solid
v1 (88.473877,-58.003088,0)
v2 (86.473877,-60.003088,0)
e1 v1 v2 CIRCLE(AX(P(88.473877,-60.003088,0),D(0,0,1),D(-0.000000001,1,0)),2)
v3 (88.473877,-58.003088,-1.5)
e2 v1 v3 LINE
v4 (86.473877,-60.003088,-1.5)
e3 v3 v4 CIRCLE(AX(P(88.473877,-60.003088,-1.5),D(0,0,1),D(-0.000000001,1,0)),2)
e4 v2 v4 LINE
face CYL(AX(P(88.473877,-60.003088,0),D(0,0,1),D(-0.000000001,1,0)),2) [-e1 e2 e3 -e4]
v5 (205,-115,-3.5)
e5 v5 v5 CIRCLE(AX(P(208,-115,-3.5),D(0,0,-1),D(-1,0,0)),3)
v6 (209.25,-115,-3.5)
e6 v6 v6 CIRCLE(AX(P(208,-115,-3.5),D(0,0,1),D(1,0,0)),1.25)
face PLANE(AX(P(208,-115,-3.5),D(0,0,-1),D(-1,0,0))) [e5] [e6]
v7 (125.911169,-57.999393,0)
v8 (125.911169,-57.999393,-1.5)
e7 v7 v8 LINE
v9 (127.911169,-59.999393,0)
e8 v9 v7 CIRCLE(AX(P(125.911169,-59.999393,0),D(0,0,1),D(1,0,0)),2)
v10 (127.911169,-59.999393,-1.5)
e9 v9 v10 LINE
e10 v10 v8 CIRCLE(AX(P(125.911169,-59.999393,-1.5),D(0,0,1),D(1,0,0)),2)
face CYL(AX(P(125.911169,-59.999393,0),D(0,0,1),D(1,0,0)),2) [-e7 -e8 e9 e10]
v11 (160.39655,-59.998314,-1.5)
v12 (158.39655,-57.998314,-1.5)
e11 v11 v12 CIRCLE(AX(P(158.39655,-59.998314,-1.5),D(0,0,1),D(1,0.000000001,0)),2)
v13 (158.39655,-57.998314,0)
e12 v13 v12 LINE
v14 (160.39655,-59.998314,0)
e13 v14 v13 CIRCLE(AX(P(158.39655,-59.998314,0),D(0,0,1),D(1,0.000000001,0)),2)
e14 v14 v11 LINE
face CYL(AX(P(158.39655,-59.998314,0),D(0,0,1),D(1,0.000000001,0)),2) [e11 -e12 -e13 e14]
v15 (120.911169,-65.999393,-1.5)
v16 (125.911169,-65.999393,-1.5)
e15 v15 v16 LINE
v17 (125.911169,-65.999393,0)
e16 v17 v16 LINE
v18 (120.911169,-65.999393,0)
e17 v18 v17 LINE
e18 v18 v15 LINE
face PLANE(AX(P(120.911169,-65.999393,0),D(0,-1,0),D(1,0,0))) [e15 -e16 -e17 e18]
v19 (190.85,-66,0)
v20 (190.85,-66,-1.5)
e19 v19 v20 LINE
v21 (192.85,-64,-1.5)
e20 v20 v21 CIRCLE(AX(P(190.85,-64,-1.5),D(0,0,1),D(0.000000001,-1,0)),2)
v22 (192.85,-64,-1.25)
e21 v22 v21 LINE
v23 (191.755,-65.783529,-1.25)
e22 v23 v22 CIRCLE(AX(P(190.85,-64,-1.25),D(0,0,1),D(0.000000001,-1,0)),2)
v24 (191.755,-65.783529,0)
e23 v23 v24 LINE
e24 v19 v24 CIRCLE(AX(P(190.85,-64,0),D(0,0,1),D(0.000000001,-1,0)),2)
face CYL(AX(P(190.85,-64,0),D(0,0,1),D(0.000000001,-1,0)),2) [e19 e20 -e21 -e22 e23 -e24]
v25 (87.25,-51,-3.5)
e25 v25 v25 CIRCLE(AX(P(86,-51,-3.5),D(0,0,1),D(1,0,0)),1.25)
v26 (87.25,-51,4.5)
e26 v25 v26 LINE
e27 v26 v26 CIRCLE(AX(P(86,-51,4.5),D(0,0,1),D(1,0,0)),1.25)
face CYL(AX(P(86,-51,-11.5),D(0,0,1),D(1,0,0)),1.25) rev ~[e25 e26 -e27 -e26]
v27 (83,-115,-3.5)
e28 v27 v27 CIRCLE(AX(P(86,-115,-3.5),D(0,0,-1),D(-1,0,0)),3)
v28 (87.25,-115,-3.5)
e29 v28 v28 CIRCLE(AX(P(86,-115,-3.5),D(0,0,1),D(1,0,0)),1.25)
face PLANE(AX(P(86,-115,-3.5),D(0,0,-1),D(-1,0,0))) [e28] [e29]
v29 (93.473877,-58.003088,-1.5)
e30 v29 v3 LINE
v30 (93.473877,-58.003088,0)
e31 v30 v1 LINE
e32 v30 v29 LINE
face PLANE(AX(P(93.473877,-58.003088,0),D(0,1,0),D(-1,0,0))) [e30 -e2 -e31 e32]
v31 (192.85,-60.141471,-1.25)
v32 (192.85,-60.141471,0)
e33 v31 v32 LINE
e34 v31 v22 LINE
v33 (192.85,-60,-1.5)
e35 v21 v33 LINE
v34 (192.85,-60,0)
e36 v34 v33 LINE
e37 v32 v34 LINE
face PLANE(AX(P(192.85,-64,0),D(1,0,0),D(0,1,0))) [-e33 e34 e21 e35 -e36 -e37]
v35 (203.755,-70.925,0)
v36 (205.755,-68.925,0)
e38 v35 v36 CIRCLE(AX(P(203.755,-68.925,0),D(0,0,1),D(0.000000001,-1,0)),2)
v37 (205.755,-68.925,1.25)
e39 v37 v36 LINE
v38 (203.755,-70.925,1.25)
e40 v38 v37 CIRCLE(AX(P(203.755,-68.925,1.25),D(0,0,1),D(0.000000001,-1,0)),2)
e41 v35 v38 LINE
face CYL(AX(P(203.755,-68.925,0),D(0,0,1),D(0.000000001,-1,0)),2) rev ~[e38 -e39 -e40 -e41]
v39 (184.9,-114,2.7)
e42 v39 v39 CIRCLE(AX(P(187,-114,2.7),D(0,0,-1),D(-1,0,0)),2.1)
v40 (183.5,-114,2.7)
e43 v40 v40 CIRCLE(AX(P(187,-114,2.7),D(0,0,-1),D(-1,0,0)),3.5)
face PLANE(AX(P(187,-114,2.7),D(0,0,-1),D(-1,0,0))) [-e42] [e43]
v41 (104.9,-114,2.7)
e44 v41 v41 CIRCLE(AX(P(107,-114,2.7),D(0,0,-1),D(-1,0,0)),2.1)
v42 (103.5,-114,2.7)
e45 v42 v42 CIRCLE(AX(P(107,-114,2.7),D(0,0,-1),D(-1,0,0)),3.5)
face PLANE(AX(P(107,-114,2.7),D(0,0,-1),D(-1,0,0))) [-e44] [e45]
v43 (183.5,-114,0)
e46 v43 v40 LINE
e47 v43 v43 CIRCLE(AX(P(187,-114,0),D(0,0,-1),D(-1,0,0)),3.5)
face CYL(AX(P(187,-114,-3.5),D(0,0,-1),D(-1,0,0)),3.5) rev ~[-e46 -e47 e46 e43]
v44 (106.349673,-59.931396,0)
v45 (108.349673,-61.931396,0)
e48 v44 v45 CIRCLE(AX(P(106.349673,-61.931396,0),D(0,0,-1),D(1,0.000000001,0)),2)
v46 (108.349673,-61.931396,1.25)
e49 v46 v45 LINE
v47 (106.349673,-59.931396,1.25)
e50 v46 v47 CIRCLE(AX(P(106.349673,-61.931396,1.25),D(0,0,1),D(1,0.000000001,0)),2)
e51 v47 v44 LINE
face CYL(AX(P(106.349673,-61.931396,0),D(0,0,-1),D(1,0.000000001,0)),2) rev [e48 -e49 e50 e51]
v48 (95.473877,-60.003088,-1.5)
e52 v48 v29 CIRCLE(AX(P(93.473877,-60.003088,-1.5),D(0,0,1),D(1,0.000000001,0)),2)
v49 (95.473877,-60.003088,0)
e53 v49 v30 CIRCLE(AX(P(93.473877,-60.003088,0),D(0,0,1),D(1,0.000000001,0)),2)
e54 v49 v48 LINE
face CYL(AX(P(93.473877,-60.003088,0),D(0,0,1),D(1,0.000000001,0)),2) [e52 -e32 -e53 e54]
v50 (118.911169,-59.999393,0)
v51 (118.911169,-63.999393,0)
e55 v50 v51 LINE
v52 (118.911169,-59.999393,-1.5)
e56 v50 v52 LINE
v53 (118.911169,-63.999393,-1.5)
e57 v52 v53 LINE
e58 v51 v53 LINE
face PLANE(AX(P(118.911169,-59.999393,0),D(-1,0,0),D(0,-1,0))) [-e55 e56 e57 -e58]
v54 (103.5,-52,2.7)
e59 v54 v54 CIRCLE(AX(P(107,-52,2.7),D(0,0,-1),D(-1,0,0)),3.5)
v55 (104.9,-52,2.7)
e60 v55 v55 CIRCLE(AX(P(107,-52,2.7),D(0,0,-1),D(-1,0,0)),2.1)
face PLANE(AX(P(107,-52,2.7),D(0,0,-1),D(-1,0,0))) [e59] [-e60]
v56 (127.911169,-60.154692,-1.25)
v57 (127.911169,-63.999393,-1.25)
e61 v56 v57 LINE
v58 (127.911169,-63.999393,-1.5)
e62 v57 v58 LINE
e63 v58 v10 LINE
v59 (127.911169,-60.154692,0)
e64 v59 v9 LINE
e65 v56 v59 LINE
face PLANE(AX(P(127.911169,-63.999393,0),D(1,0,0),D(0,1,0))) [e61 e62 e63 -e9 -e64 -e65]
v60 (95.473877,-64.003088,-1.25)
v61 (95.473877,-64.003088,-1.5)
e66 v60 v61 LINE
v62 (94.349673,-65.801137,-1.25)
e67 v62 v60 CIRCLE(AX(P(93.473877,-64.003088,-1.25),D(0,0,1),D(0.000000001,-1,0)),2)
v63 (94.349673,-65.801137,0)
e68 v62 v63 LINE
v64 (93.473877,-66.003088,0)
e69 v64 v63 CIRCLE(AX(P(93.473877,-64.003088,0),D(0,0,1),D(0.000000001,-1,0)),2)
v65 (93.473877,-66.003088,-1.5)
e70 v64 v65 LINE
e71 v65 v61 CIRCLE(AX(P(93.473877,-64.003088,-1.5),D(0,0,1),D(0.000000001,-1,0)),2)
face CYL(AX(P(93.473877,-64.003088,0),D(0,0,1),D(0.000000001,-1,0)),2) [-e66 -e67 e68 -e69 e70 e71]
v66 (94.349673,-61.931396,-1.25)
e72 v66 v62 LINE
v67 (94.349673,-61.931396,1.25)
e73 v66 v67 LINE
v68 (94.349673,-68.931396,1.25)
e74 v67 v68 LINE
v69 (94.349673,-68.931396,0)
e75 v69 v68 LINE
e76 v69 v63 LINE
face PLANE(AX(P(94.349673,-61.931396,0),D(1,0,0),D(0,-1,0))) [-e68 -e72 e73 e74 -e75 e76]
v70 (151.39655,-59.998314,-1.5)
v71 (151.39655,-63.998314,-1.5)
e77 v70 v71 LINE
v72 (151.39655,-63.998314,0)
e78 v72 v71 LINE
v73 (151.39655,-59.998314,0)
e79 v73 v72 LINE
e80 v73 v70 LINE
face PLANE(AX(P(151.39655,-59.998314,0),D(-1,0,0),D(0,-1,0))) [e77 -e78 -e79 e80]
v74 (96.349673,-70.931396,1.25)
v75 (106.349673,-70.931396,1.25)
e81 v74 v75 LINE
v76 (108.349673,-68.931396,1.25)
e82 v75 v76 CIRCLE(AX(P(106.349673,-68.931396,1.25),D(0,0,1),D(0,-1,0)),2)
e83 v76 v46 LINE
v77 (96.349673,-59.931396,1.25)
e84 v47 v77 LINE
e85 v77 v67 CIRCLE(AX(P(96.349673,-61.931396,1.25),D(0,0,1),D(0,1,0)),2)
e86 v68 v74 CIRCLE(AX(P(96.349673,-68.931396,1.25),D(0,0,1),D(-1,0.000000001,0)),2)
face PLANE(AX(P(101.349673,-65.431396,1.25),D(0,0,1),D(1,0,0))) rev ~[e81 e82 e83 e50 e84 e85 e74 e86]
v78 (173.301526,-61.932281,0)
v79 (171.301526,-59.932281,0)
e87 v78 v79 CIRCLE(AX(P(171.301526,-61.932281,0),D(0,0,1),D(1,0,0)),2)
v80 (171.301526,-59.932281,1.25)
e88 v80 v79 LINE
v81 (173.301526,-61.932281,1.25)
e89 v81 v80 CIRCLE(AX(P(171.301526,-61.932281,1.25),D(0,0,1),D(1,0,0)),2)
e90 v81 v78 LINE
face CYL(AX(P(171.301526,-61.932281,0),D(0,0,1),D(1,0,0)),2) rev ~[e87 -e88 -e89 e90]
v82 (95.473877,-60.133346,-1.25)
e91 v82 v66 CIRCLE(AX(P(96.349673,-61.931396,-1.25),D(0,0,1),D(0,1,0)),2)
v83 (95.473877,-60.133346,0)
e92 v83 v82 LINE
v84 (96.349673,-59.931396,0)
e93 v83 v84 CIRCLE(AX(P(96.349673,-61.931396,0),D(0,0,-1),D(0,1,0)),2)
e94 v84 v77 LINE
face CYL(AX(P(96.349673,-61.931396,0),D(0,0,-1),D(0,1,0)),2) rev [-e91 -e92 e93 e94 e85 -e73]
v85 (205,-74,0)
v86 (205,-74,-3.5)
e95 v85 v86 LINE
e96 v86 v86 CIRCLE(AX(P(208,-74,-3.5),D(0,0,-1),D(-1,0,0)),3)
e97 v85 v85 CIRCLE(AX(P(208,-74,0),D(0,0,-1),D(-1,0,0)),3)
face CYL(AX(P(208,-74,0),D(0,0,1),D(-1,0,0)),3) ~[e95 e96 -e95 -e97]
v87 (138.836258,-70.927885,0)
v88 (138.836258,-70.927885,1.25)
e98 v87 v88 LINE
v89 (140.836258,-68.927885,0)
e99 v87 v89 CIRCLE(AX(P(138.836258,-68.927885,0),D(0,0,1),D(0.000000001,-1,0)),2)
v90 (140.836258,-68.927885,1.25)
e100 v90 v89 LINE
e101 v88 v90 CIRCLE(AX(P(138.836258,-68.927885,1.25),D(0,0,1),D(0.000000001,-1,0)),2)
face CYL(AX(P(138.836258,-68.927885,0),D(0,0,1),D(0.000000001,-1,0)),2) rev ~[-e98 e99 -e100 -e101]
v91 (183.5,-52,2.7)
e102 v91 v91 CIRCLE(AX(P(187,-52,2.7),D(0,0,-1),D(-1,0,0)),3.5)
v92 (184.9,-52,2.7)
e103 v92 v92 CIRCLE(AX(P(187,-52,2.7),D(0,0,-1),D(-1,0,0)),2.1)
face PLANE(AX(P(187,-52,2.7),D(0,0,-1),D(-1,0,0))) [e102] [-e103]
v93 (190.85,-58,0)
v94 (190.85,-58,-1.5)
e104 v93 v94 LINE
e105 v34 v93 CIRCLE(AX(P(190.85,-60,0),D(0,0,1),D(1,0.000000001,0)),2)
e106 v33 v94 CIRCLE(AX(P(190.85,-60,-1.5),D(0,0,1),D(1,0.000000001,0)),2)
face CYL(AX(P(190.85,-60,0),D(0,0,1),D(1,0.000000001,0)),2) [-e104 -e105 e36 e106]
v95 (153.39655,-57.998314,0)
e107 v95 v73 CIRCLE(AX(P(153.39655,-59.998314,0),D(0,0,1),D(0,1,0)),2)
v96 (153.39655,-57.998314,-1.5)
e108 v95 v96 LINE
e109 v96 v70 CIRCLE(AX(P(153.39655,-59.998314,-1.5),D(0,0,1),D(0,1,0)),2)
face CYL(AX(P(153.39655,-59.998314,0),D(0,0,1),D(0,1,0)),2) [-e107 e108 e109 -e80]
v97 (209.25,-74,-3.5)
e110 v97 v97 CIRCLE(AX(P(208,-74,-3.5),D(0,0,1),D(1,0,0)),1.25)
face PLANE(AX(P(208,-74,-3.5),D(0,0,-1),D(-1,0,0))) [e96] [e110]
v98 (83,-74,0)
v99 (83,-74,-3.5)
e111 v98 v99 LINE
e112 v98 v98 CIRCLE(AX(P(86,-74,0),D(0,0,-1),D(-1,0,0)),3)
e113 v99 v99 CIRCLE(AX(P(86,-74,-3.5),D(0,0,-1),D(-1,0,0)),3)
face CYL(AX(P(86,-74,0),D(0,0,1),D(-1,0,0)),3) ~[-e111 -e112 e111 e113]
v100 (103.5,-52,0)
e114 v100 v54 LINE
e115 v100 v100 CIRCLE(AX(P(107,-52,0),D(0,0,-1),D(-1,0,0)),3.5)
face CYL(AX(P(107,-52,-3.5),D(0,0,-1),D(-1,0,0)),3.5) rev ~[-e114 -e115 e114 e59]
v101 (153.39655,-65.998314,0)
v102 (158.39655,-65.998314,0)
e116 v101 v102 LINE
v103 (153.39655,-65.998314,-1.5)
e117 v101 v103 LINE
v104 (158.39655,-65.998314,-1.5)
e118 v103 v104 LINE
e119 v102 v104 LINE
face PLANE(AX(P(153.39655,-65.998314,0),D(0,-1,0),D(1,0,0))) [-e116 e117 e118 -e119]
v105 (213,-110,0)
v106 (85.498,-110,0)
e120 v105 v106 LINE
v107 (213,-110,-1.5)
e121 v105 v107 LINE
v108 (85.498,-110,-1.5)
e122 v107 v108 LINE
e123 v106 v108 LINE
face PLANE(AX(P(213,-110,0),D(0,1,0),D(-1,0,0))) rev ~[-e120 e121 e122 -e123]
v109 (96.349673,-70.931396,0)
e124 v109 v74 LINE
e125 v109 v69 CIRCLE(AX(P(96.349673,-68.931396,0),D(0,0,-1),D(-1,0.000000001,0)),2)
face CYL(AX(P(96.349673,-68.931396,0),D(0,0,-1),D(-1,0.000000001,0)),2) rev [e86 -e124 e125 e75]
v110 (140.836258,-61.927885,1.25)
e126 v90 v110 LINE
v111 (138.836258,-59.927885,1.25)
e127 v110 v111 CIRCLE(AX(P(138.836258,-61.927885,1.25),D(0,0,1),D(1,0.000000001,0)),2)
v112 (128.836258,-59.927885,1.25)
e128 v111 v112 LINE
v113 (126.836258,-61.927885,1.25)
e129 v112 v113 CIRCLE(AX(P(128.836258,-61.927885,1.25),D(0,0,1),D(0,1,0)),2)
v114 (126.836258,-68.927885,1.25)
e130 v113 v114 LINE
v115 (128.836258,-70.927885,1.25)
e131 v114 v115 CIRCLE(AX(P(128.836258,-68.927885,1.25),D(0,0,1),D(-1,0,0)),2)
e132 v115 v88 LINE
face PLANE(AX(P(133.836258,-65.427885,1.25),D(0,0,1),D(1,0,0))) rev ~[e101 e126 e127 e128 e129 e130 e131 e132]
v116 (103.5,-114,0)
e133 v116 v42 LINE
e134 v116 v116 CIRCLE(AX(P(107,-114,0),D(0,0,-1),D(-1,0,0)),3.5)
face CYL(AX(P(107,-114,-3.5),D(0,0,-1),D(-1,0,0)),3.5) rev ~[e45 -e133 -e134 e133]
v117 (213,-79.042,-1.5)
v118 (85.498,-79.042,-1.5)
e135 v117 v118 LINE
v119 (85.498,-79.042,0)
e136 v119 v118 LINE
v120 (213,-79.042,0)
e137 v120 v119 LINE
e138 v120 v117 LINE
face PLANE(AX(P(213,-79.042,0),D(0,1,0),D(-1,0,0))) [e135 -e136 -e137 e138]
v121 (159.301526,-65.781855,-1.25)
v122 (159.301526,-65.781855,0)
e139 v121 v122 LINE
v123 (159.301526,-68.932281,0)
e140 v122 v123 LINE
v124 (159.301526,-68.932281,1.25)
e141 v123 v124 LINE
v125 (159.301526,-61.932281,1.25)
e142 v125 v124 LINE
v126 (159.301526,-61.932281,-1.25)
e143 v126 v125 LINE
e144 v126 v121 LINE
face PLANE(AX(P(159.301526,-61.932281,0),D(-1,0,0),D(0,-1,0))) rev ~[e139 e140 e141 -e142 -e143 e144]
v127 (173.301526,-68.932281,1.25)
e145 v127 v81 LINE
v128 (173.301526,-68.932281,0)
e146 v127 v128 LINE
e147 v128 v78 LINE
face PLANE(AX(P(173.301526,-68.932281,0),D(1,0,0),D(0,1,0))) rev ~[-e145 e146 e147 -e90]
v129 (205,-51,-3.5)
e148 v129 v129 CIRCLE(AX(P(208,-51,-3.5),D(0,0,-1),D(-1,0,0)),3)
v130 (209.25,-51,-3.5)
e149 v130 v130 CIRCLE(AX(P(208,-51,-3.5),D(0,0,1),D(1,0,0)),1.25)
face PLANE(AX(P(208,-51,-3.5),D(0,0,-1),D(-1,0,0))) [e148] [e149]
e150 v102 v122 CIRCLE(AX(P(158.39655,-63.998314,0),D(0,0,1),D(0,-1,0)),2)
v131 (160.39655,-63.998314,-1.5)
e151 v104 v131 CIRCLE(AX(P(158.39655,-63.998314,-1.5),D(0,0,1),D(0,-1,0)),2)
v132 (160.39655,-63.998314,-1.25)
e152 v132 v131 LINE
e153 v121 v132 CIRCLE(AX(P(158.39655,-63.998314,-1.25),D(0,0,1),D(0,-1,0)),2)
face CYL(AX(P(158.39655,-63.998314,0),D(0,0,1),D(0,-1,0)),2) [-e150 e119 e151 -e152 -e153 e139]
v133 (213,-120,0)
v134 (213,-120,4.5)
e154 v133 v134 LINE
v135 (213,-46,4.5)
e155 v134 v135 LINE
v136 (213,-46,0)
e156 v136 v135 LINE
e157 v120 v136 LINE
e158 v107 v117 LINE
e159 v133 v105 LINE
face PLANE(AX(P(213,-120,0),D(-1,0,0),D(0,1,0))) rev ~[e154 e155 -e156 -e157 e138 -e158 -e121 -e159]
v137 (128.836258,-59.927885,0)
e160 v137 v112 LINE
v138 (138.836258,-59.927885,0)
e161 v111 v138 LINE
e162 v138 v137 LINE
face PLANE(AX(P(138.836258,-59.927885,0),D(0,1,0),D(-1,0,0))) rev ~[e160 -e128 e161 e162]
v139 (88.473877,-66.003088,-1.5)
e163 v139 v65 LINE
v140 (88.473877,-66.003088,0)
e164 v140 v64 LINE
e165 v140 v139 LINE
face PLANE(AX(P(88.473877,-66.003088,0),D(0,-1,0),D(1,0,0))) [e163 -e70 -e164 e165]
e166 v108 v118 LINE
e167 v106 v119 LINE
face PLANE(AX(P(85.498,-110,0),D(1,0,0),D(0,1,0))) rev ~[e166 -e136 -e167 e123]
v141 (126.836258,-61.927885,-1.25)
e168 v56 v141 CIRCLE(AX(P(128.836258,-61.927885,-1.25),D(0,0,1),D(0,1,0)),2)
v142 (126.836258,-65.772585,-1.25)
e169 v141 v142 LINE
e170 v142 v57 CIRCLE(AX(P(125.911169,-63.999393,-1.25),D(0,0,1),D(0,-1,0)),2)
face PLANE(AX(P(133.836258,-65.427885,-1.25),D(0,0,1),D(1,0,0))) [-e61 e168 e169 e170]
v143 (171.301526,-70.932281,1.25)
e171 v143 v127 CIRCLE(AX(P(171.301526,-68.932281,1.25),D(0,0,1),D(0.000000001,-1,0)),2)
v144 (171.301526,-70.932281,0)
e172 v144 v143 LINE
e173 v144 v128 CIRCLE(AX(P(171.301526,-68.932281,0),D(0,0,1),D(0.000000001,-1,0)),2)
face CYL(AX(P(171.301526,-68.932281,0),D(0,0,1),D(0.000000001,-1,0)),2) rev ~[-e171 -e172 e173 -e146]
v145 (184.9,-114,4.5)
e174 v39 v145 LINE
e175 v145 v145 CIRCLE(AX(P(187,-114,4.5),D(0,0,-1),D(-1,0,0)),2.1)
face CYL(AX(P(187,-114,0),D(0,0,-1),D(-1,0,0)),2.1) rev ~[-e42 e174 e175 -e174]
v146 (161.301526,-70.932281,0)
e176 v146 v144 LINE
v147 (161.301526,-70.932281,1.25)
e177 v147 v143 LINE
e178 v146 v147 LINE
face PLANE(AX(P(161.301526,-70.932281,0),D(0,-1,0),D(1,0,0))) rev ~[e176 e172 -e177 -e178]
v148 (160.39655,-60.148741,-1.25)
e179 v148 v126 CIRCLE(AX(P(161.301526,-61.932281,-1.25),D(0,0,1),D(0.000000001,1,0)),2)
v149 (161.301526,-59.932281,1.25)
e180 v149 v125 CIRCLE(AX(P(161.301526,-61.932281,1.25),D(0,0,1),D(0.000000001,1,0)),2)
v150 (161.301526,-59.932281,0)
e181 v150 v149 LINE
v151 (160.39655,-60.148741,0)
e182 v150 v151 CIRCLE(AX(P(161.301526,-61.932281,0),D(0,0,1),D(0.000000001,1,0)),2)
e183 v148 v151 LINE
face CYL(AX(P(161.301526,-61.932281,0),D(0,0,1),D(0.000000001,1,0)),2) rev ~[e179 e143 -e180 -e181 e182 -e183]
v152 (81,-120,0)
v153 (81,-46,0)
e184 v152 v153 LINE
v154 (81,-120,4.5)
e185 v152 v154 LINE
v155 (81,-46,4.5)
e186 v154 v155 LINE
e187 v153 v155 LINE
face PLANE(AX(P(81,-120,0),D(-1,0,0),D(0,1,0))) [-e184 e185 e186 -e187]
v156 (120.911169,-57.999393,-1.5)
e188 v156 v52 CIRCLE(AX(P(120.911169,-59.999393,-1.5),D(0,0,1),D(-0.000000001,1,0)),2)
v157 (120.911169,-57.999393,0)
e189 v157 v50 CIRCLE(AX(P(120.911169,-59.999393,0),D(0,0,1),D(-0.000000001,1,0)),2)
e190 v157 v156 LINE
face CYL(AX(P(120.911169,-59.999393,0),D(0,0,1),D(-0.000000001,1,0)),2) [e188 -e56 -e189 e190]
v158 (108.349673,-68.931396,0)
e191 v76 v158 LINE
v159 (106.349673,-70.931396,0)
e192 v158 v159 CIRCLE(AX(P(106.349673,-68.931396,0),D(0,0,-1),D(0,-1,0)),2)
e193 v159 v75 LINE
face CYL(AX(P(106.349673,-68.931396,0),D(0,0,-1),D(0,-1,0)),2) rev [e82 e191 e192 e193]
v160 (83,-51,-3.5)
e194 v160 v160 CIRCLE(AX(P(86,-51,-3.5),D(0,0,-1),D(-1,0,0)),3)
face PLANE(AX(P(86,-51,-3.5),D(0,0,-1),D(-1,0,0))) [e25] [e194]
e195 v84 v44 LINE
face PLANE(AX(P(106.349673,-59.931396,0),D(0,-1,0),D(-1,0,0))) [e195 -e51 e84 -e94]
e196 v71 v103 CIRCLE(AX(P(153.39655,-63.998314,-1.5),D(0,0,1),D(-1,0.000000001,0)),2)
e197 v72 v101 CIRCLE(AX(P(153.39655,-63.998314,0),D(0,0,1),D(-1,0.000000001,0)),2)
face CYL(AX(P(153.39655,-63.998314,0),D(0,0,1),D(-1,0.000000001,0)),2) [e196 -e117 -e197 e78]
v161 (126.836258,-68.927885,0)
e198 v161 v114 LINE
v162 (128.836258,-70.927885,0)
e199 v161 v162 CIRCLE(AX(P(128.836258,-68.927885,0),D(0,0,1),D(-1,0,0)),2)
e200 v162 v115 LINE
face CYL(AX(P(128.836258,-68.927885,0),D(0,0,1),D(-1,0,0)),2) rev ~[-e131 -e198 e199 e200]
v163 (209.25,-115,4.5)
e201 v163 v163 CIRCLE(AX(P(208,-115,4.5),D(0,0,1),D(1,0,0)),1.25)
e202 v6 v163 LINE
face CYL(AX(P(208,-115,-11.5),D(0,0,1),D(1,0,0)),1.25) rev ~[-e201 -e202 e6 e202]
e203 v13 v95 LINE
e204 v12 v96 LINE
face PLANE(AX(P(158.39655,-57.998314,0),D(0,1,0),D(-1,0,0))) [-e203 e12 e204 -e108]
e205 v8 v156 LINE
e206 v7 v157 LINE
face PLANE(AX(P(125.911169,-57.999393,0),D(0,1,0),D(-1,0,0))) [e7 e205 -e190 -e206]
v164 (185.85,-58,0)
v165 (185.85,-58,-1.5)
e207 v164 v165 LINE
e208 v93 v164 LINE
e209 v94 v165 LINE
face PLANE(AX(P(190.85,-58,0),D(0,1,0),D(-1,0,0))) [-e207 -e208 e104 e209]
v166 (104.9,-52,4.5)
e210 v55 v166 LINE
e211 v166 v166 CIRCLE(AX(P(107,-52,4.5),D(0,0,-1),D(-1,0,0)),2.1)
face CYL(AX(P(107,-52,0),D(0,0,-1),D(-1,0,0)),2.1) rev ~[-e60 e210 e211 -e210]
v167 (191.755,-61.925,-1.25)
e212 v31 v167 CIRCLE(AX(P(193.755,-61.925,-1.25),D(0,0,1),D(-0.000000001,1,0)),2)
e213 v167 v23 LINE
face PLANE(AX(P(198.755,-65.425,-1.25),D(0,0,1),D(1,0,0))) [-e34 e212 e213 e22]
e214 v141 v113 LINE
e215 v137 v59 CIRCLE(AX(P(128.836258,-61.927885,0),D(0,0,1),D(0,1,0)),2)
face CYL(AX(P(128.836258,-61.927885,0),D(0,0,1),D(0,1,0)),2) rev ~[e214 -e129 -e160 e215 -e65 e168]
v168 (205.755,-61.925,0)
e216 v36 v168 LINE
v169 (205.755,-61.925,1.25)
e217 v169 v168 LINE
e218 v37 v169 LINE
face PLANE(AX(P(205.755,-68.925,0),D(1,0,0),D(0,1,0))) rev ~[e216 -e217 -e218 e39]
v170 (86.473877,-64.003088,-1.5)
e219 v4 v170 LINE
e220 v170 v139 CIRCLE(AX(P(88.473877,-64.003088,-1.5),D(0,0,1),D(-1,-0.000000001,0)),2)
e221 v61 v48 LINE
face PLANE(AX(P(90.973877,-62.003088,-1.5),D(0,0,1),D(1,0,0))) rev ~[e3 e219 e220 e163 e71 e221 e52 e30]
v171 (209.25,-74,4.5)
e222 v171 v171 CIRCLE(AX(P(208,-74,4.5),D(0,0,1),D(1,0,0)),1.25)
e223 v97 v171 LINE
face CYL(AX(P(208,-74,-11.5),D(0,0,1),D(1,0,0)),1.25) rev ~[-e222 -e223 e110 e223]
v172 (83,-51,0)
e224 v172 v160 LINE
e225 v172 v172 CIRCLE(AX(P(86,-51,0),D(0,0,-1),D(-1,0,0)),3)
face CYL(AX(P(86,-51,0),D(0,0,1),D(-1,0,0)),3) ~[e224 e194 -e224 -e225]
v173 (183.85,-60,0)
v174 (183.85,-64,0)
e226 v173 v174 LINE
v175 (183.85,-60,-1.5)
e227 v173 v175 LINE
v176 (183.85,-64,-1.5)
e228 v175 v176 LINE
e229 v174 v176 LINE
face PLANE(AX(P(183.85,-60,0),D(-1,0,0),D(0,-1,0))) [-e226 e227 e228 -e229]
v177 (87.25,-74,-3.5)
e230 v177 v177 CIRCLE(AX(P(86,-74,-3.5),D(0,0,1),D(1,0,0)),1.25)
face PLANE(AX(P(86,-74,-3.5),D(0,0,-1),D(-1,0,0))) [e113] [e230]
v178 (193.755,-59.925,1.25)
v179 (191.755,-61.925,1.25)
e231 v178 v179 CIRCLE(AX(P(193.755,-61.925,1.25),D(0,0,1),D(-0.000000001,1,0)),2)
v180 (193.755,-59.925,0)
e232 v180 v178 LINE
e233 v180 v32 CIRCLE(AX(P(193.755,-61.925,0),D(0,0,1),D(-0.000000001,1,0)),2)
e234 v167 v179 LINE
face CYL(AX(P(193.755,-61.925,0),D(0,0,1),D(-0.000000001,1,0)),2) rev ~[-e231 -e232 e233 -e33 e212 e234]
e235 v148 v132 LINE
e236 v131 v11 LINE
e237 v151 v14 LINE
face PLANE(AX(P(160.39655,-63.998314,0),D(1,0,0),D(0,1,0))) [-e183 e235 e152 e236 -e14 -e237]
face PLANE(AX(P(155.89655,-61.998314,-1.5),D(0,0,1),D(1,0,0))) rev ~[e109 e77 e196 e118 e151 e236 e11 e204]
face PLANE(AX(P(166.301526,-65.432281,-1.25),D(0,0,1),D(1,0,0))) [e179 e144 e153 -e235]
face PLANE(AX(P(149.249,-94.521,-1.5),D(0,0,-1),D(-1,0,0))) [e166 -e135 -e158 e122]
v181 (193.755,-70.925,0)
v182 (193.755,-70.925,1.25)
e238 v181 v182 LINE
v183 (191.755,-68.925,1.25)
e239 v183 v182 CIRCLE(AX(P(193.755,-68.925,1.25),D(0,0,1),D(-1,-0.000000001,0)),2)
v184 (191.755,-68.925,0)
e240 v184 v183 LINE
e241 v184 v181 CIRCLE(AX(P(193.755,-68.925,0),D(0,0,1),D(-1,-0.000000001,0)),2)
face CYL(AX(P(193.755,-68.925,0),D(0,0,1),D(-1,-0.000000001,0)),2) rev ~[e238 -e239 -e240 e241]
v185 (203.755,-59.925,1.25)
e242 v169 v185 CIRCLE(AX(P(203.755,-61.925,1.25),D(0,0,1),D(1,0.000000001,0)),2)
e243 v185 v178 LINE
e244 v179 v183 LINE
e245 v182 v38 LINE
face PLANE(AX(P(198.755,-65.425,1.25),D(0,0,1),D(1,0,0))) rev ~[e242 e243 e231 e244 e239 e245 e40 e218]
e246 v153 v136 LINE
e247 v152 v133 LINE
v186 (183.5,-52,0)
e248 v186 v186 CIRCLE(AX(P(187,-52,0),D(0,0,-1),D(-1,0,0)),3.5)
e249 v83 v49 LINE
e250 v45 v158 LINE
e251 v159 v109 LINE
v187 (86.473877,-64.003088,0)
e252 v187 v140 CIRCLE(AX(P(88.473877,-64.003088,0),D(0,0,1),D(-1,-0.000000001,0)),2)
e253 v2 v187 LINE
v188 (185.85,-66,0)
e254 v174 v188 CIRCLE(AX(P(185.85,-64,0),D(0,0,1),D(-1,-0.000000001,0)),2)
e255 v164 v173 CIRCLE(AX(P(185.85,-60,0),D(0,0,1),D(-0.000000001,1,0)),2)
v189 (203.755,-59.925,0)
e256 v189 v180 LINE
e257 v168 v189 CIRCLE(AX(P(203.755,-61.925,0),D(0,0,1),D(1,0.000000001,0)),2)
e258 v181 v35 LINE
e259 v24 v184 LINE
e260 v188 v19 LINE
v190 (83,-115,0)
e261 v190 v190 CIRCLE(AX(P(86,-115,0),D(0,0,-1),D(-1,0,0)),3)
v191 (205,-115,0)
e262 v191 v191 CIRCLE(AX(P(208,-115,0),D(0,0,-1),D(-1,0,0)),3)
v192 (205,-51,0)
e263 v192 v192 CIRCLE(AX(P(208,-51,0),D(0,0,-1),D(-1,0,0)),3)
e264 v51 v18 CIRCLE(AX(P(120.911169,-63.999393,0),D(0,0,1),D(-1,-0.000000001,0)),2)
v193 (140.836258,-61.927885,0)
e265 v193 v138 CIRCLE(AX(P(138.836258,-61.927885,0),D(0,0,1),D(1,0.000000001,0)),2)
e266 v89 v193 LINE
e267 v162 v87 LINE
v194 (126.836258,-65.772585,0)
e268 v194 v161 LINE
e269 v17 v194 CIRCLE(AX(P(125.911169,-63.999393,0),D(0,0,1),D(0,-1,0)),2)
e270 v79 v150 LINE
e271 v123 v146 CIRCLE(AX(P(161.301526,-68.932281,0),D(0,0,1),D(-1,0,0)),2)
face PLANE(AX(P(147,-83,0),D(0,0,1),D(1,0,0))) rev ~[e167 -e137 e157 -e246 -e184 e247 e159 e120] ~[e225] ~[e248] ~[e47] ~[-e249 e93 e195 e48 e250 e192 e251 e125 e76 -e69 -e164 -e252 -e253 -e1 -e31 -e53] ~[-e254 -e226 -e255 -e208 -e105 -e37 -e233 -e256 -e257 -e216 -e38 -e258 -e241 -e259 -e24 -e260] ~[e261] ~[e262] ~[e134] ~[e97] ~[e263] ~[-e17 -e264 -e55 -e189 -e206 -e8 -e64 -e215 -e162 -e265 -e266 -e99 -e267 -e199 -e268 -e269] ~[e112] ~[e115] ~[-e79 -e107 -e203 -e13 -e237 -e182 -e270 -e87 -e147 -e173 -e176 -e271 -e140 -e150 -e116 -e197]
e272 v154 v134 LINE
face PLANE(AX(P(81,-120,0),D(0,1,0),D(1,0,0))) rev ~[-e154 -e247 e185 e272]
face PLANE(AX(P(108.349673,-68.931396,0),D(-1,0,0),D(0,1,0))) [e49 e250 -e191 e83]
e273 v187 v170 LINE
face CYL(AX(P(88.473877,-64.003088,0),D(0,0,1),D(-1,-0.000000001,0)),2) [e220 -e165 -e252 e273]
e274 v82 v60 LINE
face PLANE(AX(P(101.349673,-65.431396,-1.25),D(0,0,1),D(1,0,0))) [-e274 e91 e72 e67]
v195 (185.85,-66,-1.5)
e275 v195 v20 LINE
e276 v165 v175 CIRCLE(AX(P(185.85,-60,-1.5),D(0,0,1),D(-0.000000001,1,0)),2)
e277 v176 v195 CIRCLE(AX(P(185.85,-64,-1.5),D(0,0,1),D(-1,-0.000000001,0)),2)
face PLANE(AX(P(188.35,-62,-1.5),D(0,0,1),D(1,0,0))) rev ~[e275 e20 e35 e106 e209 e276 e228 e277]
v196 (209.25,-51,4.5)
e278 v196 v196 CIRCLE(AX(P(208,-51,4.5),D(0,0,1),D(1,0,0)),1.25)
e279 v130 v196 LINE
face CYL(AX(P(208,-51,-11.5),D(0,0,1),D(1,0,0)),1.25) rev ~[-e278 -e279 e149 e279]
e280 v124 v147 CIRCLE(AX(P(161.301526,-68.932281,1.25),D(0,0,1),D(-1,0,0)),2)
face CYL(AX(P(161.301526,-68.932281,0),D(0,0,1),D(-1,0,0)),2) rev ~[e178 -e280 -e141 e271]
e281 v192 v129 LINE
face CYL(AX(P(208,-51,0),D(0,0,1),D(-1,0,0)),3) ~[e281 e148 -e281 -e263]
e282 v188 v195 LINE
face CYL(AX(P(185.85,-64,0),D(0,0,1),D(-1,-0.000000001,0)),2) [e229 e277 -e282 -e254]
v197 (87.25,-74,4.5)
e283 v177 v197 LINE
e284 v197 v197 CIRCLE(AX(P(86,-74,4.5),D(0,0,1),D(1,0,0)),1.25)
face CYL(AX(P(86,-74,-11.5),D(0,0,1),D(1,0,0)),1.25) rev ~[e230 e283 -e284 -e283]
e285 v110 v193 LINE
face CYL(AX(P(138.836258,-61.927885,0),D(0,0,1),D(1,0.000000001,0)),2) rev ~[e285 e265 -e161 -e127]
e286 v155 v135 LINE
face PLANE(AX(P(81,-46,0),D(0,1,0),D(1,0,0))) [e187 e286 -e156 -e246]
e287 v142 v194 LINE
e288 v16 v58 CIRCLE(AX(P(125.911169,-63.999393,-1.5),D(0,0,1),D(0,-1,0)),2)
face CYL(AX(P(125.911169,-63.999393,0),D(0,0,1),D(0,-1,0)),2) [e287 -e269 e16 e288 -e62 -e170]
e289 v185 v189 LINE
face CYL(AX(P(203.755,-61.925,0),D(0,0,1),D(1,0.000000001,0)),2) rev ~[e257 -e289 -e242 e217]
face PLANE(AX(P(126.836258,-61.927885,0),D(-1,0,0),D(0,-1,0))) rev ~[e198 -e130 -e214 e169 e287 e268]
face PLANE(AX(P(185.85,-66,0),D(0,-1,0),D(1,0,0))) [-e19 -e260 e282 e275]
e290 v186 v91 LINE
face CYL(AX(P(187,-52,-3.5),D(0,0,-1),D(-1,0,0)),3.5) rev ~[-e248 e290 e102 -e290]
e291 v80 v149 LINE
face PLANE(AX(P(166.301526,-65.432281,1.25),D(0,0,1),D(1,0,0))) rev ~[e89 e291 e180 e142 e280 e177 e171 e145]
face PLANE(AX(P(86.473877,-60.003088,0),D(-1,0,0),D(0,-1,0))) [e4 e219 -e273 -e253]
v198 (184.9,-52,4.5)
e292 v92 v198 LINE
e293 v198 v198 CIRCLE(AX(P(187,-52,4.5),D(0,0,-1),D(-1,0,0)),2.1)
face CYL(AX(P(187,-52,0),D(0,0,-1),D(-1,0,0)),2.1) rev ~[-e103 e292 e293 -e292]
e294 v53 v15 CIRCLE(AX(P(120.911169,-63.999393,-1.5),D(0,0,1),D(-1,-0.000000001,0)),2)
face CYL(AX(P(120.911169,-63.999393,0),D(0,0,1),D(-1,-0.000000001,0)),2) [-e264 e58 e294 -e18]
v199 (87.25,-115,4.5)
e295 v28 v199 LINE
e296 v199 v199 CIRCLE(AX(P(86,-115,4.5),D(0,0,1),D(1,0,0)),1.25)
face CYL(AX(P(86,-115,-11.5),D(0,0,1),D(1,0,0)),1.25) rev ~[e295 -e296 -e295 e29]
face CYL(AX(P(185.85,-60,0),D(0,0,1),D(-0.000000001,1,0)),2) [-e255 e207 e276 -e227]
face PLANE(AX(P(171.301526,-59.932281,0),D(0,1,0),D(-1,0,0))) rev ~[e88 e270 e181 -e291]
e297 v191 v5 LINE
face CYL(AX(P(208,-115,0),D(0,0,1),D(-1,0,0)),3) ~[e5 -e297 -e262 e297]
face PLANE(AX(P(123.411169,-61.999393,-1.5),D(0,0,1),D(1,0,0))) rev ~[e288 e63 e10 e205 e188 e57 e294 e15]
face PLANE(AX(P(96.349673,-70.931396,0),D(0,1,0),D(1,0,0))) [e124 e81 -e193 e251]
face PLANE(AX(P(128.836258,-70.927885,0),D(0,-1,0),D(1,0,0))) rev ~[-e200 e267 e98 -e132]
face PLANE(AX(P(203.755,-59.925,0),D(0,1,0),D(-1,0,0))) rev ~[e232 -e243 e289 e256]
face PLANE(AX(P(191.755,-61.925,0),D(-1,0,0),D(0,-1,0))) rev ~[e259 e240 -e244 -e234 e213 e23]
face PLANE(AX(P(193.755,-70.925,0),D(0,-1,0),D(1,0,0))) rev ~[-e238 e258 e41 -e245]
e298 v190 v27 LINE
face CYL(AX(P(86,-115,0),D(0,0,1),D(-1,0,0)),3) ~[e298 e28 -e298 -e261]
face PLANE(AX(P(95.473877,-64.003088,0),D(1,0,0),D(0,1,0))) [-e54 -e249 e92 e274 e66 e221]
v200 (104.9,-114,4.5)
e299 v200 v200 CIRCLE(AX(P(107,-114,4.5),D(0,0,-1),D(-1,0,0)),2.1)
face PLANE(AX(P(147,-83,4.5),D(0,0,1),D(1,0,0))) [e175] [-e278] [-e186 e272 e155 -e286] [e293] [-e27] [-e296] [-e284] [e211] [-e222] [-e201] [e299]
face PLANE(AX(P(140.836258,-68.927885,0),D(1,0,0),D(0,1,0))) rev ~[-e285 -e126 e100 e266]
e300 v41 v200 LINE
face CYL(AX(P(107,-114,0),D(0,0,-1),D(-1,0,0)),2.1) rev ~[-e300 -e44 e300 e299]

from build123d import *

# Parameters (mm, degrees)
ESQUISSE2_W                = 132
ESQUISSE2_H                = 74
BOSS_EXTRU_1_DEPTH         = 4.5
BOSS_EXTRU_PWRSTAGES_DEPTH = 1.5
ENL_V_MAT_SELFS_DEPTH      = 1.25
ESQUISSE6_W                = 127.502
ESQUISSE6_H                = 30.958
BOSS_EXTRU_ASICS_DEPTH     = 1.5
ESQUISSE7_R                = 3
BOSS_EXTRU_FIXS_DEPTH      = 3.5
TROU_TARAUD_M31_D          = 2.5
TROU_TARAUD_M31_DEPTH      = 8
ESQUISSE15_R               = 2.1
ENL_V_MAT_EXTRU_1_DEPTH    = 5.5
ENL_V_START                = 3.5
ESQUISSE16_R               = 3.5
ENL_V_MAT_EXTRU_3_DEPTH    = 6.2


with BuildPart() as part:
    # Esquisse2 → Boss.-Extru.1 (new body)
    with BuildSketch(Plane.XY):
        with Locations((147, -83)):
            Rectangle(ESQUISSE2_W, ESQUISSE2_H)
    extrude(amount=BOSS_EXTRU_1_DEPTH)

    # Esquisse4 → Boss.-Extru. PWRstages (add)
    with BuildSketch(Plane(origin=(0, 0, 0), x_dir=(-1, 0, 0), z_dir=(0, 0, -1))):
        with BuildLine():
            Line((-190.85, -58), (-185.85, -58))
            ThreePointArc((-185.85, -58), (-184.435786438, -58.585786438), (-183.85, -60))
            Line((-183.85, -60), (-183.85, -64))
            ThreePointArc((-183.85, -64), (-184.435786438, -65.414213562), (-185.85, -66))
            Line((-185.85, -66), (-190.85, -66))
            ThreePointArc((-190.85, -66), (-192.264213562, -65.414213562), (-192.85, -64))
            Line((-192.85, -64), (-192.85, -60))
            ThreePointArc((-192.85, -60), (-192.264213562, -58.585786438), (-190.85, -58))
        make_face()
        with BuildLine():
            Line((-125.911169345, -57.999392956), (-120.911169345, -57.999392956))
            ThreePointArc((-120.911169345, -57.999392956), (-119.496955783, -58.585179394), (-118.911169345, -59.999392956))
            Line((-118.911169345, -59.999392956), (-118.911169345, -63.999392956))
            ThreePointArc((-118.911169345, -63.999392956), (-119.496955783, -65.413606518), (-120.911169345, -65.999392956))
            Line((-120.911169345, -65.999392956), (-125.911169345, -65.999392956))
            ThreePointArc((-125.911169345, -65.999392956), (-127.325382908, -65.413606518), (-127.911169345, -63.999392956))
            Line((-127.911169345, -63.999392956), (-127.911169345, -59.999392956))
            ThreePointArc((-127.911169345, -59.999392956), (-127.325382908, -58.585179394), (-125.911169345, -57.999392956))
        make_face()
        with BuildLine():
            Line((-158.396550345, -57.998313843), (-153.396550345, -57.998313843))
            ThreePointArc((-153.396550345, -57.998313843), (-151.982336782, -58.584100281), (-151.396550345, -59.998313843))
            Line((-151.396550345, -59.998313843), (-151.396550345, -63.998313843))
            ThreePointArc((-151.396550345, -63.998313843), (-151.982336782, -65.412527406), (-153.396550345, -65.998313843))
            Line((-153.396550345, -65.998313843), (-158.396550345, -65.998313843))
            ThreePointArc((-158.396550345, -65.998313843), (-159.810763907, -65.412527406), (-160.396550345, -63.998313843))
            Line((-160.396550345, -63.998313843), (-160.396550345, -59.998313843))
            ThreePointArc((-160.396550345, -59.998313843), (-159.810763907, -58.584100281), (-158.396550345, -57.998313843))
        make_face()
        with BuildLine():
            Line((-93.473877357, -58.003087947), (-88.473877357, -58.003087947))
            ThreePointArc((-88.473877357, -58.003087947), (-87.059663795, -58.588874385), (-86.473877357, -60.003087947))
            Line((-86.473877357, -60.003087947), (-86.473877357, -64.003087947))
            ThreePointArc((-86.473877357, -64.003087947), (-87.059663795, -65.417301509), (-88.473877357, -66.003087947))
            Line((-88.473877357, -66.003087947), (-93.473877357, -66.003087947))
            ThreePointArc((-93.473877357, -66.003087947), (-94.888090919, -65.417301509), (-95.473877357, -64.003087947))
            Line((-95.473877357, -64.003087947), (-95.473877357, -60.003087947))
            ThreePointArc((-95.473877357, -60.003087947), (-94.888090919, -58.588874385), (-93.473877357, -58.003087947))
        make_face()
    extrude(amount=BOSS_EXTRU_PWRSTAGES_DEPTH)

    # Esquisse3 → Enlèv. mat.-SELFs (cut, symmetric)
    with BuildSketch(Plane(origin=(0, 0, 0), x_dir=(-1, 0, 0), z_dir=(0, 0, -1))):
        with BuildLine():
            Line((-203.755, -59.925), (-193.755, -59.925))
            ThreePointArc((-193.755, -59.925), (-192.340786438, -60.510786438), (-191.755, -61.925))
            Line((-191.755, -61.925), (-191.755, -68.925))
            ThreePointArc((-191.755, -68.925), (-192.340786438, -70.339213562), (-193.755, -70.925))
            Line((-193.755, -70.925), (-203.755, -70.925))
            ThreePointArc((-203.755, -70.925), (-205.169213562, -70.339213562), (-205.755, -68.925))
            Line((-205.755, -68.925), (-205.755, -61.925))
            ThreePointArc((-205.755, -61.925), (-205.169213562, -60.510786438), (-203.755, -59.925))
        make_face()
        with BuildLine():
            Line((-171.301526488, -59.932281425), (-161.301526488, -59.932281425))
            ThreePointArc((-161.301526488, -59.932281425), (-159.887312925, -60.518067862), (-159.301526488, -61.932281425))
            Line((-159.301526488, -61.932281425), (-159.301526488, -68.932281425))
            ThreePointArc((-159.301526488, -68.932281425), (-159.887312925, -70.346494987), (-161.301526488, -70.932281425))
            Line((-161.301526488, -70.932281425), (-171.301526488, -70.932281425))
            ThreePointArc((-171.301526488, -70.932281425), (-172.71574005, -70.346494987), (-173.301526488, -68.932281425))
            Line((-173.301526488, -68.932281425), (-173.301526488, -61.932281425))
            ThreePointArc((-173.301526488, -61.932281425), (-172.71574005, -60.518067862), (-171.301526488, -59.932281425))
        make_face()
        with BuildLine():
            Line((-138.836257744, -59.927884864), (-128.836257744, -59.927884864))
            ThreePointArc((-128.836257744, -59.927884864), (-127.422044181, -60.513671302), (-126.836257744, -61.927884864))
            Line((-126.836257744, -61.927884864), (-126.836257744, -68.927884864))
            ThreePointArc((-126.836257744, -68.927884864), (-127.422044181, -70.342098426), (-128.836257744, -70.927884864))
            Line((-128.836257744, -70.927884864), (-138.836257744, -70.927884864))
            ThreePointArc((-138.836257744, -70.927884864), (-140.250471306, -70.342098426), (-140.836257744, -68.927884864))
            Line((-140.836257744, -68.927884864), (-140.836257744, -61.927884864))
            ThreePointArc((-140.836257744, -61.927884864), (-140.250471306, -60.513671302), (-138.836257744, -59.927884864))
        make_face()
        with BuildLine():
            Line((-106.349673037, -59.931395797), (-96.349673037, -59.931395797))
            ThreePointArc((-96.349673037, -59.931395797), (-94.935459474, -60.517182235), (-94.349673037, -61.931395797))
            Line((-94.349673037, -61.931395797), (-94.349673037, -68.931395797))
            ThreePointArc((-94.349673037, -68.931395797), (-94.935459474, -70.34560936), (-96.349673037, -70.931395797))
            Line((-96.349673037, -70.931395797), (-106.349673037, -70.931395797))
            ThreePointArc((-106.349673037, -70.931395797), (-107.763886599, -70.34560936), (-108.349673037, -68.931395797))
            Line((-108.349673037, -68.931395797), (-108.349673037, -61.931395797))
            ThreePointArc((-108.349673037, -61.931395797), (-107.763886599, -60.517182235), (-106.349673037, -59.931395797))
        make_face()
    extrude(amount=ENL_V_MAT_SELFS_DEPTH, both=True, mode=Mode.SUBTRACT)

    # Esquisse6 → Boss.-Extru. ASICs (add)
    with BuildSketch(Plane(origin=(0, 0, 0), x_dir=(-1, 0, 0), z_dir=(0, 0, -1))):
        with Locations((-149.249, -94.521)):
            Rectangle(ESQUISSE6_W, ESQUISSE6_H)
    extrude(amount=BOSS_EXTRU_ASICS_DEPTH)

    # Esquisse7 → Boss.-Extru. FIXs (add)
    with BuildSketch(Plane(origin=(0, 0, 0), x_dir=(-1, 0, 0), z_dir=(0, 0, -1))):
        with Locations((-208, -51)):
            Circle(ESQUISSE7_R)
        with Locations((-86, -51)):
            Circle(ESQUISSE7_R)
        with Locations((-86, -74)):
            Circle(ESQUISSE7_R)
        with Locations((-86, -115)):
            Circle(ESQUISSE7_R)
        with Locations((-208, -115)):
            Circle(ESQUISSE7_R)
        with Locations((-208, -74)):
            Circle(ESQUISSE7_R)
    extrude(amount=BOSS_EXTRU_FIXS_DEPTH)

    # Trou taraudé M31
    with Locations(Plane(origin=(0, 0, -3.5), x_dir=(-1, 0, 0), z_dir=(0, 0, -1))):
        with Locations((-208, -115), (-208, -74), (-208, -51), (-86, -51), (-86, -74), (-86, -115)):
            Hole(TROU_TARAUD_M31_D / 2, depth=TROU_TARAUD_M31_DEPTH)

    # Esquisse15 → Enlèv. mat.-Extru.1 (cut, through all)
    with BuildSketch(Plane(origin=(0, 0, 0), x_dir=(-1, 0, 0), z_dir=(0, 0, -1))):
        with Locations((-187, -52)):
            Circle(ESQUISSE15_R)
        with Locations((-107, -52)):
            Circle(ESQUISSE15_R)
        with Locations((-187, -114)):
            Circle(ESQUISSE15_R)
        with Locations((-107, -114)):
            Circle(ESQUISSE15_R)
    extrude(amount=-ENL_V_MAT_EXTRU_1_DEPTH, mode=Mode.SUBTRACT)

    # Esquisse16 → Enlèv. mat.-Extru.3 (cut)
    with BuildSketch(Plane(origin=(0, 0, 0), x_dir=(-1, 0, 0), z_dir=(0, 0, -1)).offset(ENL_V_START)):
        with Locations((-187, -52)):
            Circle(ESQUISSE16_R)
        with Locations((-107, -52)):
            Circle(ESQUISSE16_R)
        with Locations((-107, -114)):
            Circle(ESQUISSE16_R)
        with Locations((-187, -114)):
            Circle(ESQUISSE16_R)
    extrude(amount=-ENL_V_MAT_EXTRU_3_DEPTH, mode=Mode.SUBTRACT)


solid = part.part
